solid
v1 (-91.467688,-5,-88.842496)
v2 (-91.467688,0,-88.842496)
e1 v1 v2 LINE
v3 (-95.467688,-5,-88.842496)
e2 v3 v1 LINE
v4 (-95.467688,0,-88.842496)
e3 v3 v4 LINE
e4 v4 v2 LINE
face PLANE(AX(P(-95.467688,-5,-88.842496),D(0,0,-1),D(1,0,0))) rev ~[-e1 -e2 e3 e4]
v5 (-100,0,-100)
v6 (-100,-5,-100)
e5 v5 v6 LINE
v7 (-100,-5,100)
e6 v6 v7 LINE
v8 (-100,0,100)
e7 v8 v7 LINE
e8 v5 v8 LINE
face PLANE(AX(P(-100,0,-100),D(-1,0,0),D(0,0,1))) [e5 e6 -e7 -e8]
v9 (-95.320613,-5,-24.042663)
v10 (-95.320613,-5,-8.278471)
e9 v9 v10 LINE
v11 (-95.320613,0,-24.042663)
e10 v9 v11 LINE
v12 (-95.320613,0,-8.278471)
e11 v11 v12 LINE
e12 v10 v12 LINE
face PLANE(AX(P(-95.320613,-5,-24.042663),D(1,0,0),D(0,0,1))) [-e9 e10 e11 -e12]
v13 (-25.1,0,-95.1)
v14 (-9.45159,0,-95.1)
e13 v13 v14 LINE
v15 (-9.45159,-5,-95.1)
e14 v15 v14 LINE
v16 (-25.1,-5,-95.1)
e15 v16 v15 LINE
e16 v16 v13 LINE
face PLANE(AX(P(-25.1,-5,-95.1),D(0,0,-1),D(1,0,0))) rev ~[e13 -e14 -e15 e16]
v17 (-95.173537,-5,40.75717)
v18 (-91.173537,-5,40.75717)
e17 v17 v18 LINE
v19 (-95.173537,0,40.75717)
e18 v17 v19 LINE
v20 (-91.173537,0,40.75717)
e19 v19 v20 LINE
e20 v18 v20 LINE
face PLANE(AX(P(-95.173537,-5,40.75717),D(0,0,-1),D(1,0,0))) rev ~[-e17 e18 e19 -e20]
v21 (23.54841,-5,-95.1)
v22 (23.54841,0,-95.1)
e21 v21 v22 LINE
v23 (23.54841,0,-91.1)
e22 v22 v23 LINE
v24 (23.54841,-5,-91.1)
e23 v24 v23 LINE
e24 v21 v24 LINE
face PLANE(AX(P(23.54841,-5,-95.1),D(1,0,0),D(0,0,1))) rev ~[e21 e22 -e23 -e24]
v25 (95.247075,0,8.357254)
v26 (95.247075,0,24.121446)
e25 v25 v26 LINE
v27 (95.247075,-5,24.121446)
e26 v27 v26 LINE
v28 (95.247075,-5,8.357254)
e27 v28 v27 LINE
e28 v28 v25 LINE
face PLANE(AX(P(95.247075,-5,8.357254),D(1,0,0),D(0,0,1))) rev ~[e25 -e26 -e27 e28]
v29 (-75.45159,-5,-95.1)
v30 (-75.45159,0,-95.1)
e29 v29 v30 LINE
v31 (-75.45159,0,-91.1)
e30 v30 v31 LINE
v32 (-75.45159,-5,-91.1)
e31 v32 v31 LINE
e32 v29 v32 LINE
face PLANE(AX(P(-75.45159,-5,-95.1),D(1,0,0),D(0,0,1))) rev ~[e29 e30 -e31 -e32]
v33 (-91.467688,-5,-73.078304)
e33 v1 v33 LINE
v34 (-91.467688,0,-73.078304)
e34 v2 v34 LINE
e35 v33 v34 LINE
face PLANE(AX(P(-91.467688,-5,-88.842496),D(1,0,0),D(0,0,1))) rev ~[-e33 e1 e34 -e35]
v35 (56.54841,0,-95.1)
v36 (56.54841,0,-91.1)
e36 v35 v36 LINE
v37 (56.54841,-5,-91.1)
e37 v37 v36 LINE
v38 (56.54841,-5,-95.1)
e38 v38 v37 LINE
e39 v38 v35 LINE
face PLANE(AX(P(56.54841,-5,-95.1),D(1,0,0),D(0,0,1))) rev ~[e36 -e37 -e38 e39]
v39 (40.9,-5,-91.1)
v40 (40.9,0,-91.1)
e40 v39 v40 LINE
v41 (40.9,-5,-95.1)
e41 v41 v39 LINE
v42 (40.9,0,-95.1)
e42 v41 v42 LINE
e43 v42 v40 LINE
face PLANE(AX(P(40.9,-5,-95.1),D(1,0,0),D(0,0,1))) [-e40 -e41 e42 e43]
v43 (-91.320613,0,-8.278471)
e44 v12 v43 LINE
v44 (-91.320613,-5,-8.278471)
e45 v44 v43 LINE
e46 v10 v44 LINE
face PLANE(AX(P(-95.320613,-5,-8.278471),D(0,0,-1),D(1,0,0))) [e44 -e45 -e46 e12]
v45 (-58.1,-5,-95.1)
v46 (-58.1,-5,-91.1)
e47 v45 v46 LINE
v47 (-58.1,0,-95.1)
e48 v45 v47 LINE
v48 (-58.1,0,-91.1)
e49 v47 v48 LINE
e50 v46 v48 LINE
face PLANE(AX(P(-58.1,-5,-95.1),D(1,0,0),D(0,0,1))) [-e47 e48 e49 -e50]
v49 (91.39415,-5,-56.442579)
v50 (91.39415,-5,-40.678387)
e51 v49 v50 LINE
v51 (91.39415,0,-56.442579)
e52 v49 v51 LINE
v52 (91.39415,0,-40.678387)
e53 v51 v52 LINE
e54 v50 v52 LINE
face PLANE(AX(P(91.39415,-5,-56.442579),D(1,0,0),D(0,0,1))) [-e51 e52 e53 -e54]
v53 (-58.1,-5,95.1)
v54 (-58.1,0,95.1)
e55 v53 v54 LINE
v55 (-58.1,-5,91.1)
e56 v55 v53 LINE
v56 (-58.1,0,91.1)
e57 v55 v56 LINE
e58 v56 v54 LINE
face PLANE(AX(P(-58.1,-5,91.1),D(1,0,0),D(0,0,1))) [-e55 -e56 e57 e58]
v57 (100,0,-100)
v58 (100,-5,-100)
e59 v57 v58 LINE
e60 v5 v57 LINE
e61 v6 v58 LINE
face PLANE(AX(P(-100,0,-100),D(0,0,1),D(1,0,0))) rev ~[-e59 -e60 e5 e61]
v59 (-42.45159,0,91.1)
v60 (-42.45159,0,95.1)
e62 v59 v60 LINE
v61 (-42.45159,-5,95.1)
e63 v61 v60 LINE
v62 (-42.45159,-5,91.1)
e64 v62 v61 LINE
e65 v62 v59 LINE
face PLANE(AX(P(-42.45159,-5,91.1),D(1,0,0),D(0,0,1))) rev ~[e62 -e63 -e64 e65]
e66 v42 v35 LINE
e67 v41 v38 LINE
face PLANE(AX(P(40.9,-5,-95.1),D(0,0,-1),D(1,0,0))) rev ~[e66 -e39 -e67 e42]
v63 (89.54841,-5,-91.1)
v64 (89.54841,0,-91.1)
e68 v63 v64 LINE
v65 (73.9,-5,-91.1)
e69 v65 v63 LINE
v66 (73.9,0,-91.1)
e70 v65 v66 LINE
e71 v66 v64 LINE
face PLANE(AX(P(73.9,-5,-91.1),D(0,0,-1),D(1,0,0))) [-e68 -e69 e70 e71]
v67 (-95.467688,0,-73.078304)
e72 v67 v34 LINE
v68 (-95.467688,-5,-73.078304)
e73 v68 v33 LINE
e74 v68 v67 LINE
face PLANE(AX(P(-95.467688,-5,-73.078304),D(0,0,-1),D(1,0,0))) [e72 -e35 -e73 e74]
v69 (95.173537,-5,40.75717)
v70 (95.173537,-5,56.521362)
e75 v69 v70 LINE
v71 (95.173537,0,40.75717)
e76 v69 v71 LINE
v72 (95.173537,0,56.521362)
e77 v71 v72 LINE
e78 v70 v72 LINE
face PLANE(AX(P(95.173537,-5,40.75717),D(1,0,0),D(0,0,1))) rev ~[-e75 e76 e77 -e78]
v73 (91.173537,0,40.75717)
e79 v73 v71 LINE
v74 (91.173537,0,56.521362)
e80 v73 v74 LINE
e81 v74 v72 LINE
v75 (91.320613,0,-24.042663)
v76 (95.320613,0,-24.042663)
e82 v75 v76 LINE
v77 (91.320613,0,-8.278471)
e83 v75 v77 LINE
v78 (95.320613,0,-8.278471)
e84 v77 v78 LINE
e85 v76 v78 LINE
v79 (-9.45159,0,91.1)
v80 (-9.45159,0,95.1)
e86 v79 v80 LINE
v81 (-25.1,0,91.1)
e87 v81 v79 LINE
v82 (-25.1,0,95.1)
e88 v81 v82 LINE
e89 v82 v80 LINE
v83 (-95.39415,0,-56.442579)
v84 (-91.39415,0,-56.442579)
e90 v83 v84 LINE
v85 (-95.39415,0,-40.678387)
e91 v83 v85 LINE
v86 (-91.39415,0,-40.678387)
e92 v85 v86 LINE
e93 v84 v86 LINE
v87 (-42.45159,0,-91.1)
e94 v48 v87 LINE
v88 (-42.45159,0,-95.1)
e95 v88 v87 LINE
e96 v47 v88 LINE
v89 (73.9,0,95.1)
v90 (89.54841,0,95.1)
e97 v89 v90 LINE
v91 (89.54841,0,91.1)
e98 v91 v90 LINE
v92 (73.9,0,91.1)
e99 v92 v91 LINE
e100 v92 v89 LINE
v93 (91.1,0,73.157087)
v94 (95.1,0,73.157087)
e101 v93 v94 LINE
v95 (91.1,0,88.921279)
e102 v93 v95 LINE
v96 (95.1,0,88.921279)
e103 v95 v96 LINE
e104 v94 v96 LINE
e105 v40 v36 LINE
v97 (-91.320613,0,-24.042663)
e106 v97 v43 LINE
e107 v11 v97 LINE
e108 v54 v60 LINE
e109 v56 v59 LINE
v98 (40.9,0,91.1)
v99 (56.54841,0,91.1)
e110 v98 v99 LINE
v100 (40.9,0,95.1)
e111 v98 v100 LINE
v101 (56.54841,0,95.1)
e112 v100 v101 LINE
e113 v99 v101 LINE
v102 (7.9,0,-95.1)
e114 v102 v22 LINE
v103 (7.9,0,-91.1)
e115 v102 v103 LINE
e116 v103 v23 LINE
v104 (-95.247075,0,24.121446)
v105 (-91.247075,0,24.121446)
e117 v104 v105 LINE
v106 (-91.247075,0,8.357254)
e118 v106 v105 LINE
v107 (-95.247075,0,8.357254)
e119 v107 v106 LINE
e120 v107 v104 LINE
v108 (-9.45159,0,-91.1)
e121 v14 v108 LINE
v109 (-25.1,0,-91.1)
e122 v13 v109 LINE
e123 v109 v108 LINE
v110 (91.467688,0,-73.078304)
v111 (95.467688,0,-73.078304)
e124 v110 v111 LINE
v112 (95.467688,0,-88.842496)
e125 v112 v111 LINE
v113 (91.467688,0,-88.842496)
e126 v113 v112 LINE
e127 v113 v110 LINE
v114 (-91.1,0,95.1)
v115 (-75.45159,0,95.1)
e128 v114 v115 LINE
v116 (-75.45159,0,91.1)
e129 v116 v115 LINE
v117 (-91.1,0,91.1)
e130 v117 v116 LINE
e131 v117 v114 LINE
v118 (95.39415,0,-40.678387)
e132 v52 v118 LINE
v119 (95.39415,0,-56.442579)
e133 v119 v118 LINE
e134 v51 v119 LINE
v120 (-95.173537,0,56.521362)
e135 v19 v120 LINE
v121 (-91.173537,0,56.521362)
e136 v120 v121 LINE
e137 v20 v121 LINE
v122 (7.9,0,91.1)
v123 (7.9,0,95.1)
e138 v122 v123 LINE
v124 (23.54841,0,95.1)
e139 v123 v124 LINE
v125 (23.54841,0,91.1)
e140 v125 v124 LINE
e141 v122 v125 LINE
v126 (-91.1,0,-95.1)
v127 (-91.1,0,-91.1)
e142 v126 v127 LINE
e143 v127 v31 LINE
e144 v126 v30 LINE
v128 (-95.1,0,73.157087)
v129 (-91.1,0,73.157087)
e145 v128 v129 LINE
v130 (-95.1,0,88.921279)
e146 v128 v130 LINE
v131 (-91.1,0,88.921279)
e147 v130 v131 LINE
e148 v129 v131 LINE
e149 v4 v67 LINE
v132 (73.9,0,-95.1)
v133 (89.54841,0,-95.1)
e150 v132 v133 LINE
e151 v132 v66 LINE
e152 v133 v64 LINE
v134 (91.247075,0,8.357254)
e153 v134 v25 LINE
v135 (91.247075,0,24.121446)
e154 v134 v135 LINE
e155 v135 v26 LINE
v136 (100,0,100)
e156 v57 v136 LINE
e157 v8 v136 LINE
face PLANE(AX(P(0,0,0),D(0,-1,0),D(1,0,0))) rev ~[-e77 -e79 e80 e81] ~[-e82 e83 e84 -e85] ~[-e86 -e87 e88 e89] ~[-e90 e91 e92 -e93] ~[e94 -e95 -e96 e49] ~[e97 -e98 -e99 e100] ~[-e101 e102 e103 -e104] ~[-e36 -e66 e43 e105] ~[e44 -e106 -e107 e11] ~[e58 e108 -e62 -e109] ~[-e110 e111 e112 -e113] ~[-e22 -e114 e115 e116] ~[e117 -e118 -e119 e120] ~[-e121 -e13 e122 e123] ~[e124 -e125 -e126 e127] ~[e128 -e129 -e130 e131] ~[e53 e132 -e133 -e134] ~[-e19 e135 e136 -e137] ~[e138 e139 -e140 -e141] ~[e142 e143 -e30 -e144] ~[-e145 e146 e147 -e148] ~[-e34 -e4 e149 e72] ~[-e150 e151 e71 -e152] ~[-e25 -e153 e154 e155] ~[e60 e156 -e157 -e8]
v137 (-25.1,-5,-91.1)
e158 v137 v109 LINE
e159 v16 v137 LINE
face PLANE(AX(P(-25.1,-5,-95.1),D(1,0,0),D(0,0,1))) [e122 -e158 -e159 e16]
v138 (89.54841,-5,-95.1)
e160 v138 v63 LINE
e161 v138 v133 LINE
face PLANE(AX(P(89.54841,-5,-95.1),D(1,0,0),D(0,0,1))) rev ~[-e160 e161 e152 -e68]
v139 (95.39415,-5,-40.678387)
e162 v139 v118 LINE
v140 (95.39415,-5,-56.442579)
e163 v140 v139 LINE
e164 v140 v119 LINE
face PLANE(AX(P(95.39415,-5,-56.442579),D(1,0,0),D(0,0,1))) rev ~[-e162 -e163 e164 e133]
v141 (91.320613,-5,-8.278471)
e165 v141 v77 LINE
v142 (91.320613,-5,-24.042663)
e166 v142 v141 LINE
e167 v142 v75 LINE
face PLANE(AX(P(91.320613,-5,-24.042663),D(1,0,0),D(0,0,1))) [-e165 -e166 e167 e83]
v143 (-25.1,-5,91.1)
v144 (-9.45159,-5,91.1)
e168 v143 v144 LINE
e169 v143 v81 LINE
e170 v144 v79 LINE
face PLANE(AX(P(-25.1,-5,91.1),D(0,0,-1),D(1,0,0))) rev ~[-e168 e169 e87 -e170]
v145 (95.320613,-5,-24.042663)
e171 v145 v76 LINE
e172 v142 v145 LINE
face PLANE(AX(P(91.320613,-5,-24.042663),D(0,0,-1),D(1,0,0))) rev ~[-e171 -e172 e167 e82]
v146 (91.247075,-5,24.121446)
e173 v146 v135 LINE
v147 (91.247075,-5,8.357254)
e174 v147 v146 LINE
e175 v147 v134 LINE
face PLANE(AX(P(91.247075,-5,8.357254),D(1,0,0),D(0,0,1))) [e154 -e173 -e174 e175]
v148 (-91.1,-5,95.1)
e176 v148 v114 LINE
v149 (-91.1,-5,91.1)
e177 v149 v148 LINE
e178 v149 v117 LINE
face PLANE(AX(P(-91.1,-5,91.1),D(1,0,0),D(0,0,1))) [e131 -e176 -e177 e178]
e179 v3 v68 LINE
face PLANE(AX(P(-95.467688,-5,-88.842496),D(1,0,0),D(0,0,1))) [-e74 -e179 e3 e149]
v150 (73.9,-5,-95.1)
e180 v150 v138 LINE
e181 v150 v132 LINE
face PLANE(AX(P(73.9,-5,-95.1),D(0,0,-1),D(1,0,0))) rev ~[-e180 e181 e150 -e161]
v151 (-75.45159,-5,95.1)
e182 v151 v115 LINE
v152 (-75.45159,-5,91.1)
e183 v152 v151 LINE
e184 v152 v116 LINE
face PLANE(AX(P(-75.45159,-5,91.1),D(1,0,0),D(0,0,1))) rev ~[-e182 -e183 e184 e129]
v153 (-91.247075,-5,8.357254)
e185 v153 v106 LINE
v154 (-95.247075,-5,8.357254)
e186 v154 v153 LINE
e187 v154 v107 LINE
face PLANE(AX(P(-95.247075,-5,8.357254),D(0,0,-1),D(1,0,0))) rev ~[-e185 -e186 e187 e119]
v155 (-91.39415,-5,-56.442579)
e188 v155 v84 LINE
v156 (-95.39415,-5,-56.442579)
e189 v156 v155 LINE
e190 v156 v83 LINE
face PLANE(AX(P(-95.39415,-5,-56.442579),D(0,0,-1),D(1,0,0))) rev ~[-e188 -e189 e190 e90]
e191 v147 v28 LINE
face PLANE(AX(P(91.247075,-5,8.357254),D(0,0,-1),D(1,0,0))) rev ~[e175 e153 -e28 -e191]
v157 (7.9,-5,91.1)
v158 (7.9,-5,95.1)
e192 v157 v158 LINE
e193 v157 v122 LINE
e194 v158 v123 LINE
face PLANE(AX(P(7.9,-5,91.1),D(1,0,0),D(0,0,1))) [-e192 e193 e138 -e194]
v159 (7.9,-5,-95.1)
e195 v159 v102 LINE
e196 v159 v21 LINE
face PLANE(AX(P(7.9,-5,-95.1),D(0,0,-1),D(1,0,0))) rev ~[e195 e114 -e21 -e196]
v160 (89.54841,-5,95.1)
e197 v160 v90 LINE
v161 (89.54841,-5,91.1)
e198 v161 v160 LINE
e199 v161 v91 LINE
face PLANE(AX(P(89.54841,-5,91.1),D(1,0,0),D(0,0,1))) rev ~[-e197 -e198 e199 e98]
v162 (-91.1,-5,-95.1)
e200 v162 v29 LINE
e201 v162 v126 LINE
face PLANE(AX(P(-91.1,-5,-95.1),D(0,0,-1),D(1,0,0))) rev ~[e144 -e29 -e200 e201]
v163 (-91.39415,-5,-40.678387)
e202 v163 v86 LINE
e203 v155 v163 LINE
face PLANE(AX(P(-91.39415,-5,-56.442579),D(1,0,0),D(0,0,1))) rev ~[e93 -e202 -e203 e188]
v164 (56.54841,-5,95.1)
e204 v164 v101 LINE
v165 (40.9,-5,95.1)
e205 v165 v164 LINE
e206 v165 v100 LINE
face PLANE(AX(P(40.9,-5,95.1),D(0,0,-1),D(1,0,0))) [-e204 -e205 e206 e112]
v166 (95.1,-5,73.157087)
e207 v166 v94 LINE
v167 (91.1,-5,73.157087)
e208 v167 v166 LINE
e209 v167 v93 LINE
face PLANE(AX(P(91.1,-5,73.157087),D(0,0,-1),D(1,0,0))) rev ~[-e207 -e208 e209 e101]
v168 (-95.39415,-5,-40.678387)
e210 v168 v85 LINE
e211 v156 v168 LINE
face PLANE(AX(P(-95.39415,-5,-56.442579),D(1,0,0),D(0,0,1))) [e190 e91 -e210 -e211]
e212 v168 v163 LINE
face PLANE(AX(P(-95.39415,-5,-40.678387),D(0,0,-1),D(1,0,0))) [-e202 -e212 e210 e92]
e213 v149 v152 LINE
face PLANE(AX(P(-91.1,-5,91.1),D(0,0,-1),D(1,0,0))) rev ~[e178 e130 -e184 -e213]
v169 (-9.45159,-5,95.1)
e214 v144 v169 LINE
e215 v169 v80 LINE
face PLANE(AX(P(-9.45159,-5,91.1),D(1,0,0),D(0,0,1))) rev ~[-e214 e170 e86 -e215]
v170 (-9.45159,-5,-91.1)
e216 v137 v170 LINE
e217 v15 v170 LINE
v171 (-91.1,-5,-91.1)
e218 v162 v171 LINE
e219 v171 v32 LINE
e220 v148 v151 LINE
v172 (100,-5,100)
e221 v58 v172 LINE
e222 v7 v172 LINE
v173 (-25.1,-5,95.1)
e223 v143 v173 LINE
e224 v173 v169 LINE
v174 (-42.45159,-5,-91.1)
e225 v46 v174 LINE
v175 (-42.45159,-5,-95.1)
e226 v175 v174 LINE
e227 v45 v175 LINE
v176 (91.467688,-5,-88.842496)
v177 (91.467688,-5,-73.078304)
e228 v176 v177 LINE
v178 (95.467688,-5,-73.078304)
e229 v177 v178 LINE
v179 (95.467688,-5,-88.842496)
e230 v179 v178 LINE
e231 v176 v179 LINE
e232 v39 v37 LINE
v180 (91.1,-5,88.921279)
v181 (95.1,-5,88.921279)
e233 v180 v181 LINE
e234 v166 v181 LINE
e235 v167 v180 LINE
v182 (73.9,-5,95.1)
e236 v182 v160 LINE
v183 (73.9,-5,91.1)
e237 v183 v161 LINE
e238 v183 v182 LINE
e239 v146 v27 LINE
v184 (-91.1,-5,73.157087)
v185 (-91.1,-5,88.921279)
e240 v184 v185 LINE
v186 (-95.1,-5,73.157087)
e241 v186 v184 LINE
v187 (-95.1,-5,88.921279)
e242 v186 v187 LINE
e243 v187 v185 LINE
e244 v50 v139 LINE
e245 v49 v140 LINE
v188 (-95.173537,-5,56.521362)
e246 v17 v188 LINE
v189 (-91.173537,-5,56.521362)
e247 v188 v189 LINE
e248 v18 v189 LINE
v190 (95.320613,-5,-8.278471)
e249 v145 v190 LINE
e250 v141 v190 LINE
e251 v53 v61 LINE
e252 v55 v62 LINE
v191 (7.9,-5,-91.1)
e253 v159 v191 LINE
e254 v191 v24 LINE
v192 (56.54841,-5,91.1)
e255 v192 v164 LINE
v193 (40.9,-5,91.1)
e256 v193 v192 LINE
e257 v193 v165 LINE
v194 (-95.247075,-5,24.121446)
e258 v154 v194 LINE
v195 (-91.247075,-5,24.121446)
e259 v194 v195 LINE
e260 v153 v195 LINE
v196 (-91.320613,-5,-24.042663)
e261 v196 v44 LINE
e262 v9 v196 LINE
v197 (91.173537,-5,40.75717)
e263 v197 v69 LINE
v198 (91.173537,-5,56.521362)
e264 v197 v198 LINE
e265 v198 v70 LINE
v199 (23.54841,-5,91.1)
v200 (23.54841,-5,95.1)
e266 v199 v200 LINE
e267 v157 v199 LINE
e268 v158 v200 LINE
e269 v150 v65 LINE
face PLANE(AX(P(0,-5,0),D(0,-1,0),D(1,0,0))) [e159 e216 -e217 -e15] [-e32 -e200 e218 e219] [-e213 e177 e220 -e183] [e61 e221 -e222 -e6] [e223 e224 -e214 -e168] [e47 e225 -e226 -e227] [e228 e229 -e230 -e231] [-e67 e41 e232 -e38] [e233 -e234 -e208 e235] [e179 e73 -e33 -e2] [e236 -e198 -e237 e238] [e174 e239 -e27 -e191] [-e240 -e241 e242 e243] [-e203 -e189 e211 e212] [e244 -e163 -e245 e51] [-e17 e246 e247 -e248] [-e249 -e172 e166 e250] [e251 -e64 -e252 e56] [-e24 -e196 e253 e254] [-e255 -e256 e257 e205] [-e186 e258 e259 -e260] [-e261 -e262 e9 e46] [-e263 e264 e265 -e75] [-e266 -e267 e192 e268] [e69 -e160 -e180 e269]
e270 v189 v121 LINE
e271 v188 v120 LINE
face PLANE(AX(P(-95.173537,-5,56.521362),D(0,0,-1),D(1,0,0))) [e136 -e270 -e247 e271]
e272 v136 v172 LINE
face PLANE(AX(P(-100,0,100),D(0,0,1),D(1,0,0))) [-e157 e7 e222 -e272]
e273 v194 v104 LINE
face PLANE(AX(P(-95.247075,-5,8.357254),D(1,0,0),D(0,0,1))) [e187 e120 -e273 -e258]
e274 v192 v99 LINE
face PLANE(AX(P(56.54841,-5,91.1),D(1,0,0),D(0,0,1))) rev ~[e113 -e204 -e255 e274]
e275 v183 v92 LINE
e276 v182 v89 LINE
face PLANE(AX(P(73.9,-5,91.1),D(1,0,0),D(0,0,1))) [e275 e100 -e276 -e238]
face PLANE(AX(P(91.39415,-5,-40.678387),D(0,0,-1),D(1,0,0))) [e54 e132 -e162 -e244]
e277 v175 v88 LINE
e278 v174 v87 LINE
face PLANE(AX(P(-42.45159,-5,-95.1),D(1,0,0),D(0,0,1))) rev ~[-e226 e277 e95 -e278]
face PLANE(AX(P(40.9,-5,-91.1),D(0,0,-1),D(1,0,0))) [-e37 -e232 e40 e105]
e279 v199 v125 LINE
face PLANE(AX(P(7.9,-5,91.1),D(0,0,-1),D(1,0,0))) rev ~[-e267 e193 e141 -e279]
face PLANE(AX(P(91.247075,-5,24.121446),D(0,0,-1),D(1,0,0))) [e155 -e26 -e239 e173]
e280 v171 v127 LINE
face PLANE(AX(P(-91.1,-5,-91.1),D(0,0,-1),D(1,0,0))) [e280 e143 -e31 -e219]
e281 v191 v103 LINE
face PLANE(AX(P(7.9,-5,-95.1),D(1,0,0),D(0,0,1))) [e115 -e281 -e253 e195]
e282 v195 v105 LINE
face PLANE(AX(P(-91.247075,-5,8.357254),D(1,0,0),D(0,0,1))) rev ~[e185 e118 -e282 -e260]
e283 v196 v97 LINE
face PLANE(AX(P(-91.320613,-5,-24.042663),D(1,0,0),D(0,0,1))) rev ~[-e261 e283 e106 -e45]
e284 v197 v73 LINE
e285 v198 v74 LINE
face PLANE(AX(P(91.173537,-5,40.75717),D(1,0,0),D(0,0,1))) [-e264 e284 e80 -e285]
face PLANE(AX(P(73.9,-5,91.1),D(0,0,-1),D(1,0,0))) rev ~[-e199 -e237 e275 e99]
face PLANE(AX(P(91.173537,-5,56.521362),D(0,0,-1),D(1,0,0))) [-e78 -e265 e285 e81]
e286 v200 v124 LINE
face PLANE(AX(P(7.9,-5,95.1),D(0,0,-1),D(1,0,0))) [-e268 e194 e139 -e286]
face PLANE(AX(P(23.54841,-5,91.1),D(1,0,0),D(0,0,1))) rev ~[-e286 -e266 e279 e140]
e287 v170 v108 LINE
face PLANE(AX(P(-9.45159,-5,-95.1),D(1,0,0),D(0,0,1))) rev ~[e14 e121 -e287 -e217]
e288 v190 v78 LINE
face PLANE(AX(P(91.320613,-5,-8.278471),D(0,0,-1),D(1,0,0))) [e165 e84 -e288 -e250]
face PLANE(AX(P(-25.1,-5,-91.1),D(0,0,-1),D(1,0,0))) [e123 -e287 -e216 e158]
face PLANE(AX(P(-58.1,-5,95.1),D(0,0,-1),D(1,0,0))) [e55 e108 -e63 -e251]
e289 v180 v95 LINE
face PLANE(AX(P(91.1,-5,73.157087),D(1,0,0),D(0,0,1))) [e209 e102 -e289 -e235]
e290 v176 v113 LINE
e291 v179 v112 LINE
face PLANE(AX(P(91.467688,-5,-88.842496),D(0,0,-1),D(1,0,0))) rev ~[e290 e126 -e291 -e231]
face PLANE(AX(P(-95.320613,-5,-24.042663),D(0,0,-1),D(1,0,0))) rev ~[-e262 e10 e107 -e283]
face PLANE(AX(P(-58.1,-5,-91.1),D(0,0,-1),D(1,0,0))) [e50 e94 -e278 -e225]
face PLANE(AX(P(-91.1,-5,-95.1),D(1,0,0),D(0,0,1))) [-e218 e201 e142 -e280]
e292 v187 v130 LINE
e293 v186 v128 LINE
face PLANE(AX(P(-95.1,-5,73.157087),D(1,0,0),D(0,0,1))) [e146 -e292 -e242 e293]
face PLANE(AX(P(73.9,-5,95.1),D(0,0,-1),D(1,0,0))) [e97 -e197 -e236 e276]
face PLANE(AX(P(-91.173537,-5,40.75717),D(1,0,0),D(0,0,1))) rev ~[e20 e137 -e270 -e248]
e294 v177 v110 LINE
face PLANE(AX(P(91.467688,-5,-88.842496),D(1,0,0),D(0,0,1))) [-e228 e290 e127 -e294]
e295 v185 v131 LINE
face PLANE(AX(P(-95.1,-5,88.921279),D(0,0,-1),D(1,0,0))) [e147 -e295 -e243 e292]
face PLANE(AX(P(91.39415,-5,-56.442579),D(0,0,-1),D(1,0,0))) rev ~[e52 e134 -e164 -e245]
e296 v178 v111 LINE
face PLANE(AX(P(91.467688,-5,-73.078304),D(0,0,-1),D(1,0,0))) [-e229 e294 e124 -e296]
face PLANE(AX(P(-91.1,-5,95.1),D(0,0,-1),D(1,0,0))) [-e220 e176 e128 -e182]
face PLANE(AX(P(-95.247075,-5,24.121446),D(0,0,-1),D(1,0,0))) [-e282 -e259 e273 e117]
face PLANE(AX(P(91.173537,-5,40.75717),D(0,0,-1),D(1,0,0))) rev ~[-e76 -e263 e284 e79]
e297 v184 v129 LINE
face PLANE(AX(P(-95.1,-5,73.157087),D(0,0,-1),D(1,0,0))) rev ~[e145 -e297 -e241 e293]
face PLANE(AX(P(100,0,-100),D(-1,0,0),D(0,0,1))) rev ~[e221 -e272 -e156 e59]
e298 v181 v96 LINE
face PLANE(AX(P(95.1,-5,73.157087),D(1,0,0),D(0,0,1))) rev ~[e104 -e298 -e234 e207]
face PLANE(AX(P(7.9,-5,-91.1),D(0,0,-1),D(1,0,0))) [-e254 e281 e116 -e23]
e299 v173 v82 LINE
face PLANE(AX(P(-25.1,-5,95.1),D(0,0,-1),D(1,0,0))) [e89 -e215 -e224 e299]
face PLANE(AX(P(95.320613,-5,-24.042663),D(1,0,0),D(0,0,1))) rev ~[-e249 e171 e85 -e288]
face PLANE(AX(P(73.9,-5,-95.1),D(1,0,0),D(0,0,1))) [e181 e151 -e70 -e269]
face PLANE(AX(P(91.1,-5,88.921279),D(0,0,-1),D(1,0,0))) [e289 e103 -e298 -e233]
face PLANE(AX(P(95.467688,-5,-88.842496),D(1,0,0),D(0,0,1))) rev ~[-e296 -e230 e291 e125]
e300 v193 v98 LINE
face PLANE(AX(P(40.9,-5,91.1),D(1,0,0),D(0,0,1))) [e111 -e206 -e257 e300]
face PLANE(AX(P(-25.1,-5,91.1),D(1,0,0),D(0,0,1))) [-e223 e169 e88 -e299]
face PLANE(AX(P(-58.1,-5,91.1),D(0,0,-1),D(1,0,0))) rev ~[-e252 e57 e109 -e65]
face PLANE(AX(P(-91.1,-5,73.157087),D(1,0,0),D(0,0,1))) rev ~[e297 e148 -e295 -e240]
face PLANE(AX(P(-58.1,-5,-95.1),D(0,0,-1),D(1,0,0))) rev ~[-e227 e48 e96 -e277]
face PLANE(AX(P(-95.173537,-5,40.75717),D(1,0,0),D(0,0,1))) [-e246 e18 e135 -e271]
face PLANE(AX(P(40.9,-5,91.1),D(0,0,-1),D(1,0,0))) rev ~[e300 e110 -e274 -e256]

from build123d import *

# Parameters (mm, degrees)
F0_W     = 200
F0_H     = 200
F1_DEPTH = 5
F2_W     = 15.64841
F2_H     = 4
F2_W_2   = 4
F2_H_2   = 15.764192
F3_DEPTH = 25


with BuildPart() as f1:
    # F0 (on Front) → F1 (new body)
    with BuildSketch(Plane.XZ):
        Rectangle(F0_W, F0_H)
    extrude(amount=F1_DEPTH)

    # F2 (on face) → F3 (cut)
    with BuildSketch(Plane.XZ.offset(5)):
        with Locations((-83.275795, 93.1)):
            Rectangle(F2_W, F2_H)
        with Locations((-50.275795, 93.1)):
            Rectangle(F2_W, F2_H)
        with Locations((-17.275795, 93.1)):
            Rectangle(F2_W, F2_H)
        with Locations((15.724205, 93.1)):
            Rectangle(F2_W, F2_H)
        with Locations((48.724205, 93.1)):
            Rectangle(F2_W, F2_H)
        with Locations((81.724205, 93.1)):
            Rectangle(F2_W, F2_H)
        with Locations((-83.275795, -93.1)):
            Rectangle(F2_W, F2_H)
        with Locations((-50.275795, -93.1)):
            Rectangle(F2_W, F2_H)
        with Locations((-17.275795, -93.1)):
            Rectangle(F2_W, F2_H)
        with Locations((15.724205, -93.1)):
            Rectangle(F2_W, F2_H)
        with Locations((48.724205, -93.1)):
            Rectangle(F2_W, F2_H)
        with Locations((81.724205, -93.1)):
            Rectangle(F2_W, F2_H)
        with Locations((93.1, 81.039183)):
            Rectangle(F2_W_2, F2_H_2)
        with Locations((93.173537, 48.639266)):
            Rectangle(F2_W_2, F2_H_2)
        with Locations((93.247075, 16.23935)):
            Rectangle(F2_W_2, F2_H_2)
        with Locations((93.320613, -16.160567)):
            Rectangle(F2_W_2, F2_H_2)
        with Locations((93.39415, -48.560483)):
            Rectangle(F2_W_2, F2_H_2)
        with Locations((93.467688, -80.9604)):
            Rectangle(F2_W_2, F2_H_2)
        with Locations((-93.1, 81.039183)):
            Rectangle(F2_W_2, F2_H_2)
        with Locations((-93.173537, 48.639266)):
            Rectangle(F2_W_2, F2_H_2)
        with Locations((-93.247075, 16.23935)):
            Rectangle(F2_W_2, F2_H_2)
        with Locations((-93.320613, -16.160567)):
            Rectangle(F2_W_2, F2_H_2)
        with Locations((-93.39415, -48.560483)):
            Rectangle(F2_W_2, F2_H_2)
        with Locations((-93.467688, -80.9604)):
            Rectangle(F2_W_2, F2_H_2)
    extrude(amount=-F3_DEPTH, mode=Mode.SUBTRACT)


solid = f1.part
